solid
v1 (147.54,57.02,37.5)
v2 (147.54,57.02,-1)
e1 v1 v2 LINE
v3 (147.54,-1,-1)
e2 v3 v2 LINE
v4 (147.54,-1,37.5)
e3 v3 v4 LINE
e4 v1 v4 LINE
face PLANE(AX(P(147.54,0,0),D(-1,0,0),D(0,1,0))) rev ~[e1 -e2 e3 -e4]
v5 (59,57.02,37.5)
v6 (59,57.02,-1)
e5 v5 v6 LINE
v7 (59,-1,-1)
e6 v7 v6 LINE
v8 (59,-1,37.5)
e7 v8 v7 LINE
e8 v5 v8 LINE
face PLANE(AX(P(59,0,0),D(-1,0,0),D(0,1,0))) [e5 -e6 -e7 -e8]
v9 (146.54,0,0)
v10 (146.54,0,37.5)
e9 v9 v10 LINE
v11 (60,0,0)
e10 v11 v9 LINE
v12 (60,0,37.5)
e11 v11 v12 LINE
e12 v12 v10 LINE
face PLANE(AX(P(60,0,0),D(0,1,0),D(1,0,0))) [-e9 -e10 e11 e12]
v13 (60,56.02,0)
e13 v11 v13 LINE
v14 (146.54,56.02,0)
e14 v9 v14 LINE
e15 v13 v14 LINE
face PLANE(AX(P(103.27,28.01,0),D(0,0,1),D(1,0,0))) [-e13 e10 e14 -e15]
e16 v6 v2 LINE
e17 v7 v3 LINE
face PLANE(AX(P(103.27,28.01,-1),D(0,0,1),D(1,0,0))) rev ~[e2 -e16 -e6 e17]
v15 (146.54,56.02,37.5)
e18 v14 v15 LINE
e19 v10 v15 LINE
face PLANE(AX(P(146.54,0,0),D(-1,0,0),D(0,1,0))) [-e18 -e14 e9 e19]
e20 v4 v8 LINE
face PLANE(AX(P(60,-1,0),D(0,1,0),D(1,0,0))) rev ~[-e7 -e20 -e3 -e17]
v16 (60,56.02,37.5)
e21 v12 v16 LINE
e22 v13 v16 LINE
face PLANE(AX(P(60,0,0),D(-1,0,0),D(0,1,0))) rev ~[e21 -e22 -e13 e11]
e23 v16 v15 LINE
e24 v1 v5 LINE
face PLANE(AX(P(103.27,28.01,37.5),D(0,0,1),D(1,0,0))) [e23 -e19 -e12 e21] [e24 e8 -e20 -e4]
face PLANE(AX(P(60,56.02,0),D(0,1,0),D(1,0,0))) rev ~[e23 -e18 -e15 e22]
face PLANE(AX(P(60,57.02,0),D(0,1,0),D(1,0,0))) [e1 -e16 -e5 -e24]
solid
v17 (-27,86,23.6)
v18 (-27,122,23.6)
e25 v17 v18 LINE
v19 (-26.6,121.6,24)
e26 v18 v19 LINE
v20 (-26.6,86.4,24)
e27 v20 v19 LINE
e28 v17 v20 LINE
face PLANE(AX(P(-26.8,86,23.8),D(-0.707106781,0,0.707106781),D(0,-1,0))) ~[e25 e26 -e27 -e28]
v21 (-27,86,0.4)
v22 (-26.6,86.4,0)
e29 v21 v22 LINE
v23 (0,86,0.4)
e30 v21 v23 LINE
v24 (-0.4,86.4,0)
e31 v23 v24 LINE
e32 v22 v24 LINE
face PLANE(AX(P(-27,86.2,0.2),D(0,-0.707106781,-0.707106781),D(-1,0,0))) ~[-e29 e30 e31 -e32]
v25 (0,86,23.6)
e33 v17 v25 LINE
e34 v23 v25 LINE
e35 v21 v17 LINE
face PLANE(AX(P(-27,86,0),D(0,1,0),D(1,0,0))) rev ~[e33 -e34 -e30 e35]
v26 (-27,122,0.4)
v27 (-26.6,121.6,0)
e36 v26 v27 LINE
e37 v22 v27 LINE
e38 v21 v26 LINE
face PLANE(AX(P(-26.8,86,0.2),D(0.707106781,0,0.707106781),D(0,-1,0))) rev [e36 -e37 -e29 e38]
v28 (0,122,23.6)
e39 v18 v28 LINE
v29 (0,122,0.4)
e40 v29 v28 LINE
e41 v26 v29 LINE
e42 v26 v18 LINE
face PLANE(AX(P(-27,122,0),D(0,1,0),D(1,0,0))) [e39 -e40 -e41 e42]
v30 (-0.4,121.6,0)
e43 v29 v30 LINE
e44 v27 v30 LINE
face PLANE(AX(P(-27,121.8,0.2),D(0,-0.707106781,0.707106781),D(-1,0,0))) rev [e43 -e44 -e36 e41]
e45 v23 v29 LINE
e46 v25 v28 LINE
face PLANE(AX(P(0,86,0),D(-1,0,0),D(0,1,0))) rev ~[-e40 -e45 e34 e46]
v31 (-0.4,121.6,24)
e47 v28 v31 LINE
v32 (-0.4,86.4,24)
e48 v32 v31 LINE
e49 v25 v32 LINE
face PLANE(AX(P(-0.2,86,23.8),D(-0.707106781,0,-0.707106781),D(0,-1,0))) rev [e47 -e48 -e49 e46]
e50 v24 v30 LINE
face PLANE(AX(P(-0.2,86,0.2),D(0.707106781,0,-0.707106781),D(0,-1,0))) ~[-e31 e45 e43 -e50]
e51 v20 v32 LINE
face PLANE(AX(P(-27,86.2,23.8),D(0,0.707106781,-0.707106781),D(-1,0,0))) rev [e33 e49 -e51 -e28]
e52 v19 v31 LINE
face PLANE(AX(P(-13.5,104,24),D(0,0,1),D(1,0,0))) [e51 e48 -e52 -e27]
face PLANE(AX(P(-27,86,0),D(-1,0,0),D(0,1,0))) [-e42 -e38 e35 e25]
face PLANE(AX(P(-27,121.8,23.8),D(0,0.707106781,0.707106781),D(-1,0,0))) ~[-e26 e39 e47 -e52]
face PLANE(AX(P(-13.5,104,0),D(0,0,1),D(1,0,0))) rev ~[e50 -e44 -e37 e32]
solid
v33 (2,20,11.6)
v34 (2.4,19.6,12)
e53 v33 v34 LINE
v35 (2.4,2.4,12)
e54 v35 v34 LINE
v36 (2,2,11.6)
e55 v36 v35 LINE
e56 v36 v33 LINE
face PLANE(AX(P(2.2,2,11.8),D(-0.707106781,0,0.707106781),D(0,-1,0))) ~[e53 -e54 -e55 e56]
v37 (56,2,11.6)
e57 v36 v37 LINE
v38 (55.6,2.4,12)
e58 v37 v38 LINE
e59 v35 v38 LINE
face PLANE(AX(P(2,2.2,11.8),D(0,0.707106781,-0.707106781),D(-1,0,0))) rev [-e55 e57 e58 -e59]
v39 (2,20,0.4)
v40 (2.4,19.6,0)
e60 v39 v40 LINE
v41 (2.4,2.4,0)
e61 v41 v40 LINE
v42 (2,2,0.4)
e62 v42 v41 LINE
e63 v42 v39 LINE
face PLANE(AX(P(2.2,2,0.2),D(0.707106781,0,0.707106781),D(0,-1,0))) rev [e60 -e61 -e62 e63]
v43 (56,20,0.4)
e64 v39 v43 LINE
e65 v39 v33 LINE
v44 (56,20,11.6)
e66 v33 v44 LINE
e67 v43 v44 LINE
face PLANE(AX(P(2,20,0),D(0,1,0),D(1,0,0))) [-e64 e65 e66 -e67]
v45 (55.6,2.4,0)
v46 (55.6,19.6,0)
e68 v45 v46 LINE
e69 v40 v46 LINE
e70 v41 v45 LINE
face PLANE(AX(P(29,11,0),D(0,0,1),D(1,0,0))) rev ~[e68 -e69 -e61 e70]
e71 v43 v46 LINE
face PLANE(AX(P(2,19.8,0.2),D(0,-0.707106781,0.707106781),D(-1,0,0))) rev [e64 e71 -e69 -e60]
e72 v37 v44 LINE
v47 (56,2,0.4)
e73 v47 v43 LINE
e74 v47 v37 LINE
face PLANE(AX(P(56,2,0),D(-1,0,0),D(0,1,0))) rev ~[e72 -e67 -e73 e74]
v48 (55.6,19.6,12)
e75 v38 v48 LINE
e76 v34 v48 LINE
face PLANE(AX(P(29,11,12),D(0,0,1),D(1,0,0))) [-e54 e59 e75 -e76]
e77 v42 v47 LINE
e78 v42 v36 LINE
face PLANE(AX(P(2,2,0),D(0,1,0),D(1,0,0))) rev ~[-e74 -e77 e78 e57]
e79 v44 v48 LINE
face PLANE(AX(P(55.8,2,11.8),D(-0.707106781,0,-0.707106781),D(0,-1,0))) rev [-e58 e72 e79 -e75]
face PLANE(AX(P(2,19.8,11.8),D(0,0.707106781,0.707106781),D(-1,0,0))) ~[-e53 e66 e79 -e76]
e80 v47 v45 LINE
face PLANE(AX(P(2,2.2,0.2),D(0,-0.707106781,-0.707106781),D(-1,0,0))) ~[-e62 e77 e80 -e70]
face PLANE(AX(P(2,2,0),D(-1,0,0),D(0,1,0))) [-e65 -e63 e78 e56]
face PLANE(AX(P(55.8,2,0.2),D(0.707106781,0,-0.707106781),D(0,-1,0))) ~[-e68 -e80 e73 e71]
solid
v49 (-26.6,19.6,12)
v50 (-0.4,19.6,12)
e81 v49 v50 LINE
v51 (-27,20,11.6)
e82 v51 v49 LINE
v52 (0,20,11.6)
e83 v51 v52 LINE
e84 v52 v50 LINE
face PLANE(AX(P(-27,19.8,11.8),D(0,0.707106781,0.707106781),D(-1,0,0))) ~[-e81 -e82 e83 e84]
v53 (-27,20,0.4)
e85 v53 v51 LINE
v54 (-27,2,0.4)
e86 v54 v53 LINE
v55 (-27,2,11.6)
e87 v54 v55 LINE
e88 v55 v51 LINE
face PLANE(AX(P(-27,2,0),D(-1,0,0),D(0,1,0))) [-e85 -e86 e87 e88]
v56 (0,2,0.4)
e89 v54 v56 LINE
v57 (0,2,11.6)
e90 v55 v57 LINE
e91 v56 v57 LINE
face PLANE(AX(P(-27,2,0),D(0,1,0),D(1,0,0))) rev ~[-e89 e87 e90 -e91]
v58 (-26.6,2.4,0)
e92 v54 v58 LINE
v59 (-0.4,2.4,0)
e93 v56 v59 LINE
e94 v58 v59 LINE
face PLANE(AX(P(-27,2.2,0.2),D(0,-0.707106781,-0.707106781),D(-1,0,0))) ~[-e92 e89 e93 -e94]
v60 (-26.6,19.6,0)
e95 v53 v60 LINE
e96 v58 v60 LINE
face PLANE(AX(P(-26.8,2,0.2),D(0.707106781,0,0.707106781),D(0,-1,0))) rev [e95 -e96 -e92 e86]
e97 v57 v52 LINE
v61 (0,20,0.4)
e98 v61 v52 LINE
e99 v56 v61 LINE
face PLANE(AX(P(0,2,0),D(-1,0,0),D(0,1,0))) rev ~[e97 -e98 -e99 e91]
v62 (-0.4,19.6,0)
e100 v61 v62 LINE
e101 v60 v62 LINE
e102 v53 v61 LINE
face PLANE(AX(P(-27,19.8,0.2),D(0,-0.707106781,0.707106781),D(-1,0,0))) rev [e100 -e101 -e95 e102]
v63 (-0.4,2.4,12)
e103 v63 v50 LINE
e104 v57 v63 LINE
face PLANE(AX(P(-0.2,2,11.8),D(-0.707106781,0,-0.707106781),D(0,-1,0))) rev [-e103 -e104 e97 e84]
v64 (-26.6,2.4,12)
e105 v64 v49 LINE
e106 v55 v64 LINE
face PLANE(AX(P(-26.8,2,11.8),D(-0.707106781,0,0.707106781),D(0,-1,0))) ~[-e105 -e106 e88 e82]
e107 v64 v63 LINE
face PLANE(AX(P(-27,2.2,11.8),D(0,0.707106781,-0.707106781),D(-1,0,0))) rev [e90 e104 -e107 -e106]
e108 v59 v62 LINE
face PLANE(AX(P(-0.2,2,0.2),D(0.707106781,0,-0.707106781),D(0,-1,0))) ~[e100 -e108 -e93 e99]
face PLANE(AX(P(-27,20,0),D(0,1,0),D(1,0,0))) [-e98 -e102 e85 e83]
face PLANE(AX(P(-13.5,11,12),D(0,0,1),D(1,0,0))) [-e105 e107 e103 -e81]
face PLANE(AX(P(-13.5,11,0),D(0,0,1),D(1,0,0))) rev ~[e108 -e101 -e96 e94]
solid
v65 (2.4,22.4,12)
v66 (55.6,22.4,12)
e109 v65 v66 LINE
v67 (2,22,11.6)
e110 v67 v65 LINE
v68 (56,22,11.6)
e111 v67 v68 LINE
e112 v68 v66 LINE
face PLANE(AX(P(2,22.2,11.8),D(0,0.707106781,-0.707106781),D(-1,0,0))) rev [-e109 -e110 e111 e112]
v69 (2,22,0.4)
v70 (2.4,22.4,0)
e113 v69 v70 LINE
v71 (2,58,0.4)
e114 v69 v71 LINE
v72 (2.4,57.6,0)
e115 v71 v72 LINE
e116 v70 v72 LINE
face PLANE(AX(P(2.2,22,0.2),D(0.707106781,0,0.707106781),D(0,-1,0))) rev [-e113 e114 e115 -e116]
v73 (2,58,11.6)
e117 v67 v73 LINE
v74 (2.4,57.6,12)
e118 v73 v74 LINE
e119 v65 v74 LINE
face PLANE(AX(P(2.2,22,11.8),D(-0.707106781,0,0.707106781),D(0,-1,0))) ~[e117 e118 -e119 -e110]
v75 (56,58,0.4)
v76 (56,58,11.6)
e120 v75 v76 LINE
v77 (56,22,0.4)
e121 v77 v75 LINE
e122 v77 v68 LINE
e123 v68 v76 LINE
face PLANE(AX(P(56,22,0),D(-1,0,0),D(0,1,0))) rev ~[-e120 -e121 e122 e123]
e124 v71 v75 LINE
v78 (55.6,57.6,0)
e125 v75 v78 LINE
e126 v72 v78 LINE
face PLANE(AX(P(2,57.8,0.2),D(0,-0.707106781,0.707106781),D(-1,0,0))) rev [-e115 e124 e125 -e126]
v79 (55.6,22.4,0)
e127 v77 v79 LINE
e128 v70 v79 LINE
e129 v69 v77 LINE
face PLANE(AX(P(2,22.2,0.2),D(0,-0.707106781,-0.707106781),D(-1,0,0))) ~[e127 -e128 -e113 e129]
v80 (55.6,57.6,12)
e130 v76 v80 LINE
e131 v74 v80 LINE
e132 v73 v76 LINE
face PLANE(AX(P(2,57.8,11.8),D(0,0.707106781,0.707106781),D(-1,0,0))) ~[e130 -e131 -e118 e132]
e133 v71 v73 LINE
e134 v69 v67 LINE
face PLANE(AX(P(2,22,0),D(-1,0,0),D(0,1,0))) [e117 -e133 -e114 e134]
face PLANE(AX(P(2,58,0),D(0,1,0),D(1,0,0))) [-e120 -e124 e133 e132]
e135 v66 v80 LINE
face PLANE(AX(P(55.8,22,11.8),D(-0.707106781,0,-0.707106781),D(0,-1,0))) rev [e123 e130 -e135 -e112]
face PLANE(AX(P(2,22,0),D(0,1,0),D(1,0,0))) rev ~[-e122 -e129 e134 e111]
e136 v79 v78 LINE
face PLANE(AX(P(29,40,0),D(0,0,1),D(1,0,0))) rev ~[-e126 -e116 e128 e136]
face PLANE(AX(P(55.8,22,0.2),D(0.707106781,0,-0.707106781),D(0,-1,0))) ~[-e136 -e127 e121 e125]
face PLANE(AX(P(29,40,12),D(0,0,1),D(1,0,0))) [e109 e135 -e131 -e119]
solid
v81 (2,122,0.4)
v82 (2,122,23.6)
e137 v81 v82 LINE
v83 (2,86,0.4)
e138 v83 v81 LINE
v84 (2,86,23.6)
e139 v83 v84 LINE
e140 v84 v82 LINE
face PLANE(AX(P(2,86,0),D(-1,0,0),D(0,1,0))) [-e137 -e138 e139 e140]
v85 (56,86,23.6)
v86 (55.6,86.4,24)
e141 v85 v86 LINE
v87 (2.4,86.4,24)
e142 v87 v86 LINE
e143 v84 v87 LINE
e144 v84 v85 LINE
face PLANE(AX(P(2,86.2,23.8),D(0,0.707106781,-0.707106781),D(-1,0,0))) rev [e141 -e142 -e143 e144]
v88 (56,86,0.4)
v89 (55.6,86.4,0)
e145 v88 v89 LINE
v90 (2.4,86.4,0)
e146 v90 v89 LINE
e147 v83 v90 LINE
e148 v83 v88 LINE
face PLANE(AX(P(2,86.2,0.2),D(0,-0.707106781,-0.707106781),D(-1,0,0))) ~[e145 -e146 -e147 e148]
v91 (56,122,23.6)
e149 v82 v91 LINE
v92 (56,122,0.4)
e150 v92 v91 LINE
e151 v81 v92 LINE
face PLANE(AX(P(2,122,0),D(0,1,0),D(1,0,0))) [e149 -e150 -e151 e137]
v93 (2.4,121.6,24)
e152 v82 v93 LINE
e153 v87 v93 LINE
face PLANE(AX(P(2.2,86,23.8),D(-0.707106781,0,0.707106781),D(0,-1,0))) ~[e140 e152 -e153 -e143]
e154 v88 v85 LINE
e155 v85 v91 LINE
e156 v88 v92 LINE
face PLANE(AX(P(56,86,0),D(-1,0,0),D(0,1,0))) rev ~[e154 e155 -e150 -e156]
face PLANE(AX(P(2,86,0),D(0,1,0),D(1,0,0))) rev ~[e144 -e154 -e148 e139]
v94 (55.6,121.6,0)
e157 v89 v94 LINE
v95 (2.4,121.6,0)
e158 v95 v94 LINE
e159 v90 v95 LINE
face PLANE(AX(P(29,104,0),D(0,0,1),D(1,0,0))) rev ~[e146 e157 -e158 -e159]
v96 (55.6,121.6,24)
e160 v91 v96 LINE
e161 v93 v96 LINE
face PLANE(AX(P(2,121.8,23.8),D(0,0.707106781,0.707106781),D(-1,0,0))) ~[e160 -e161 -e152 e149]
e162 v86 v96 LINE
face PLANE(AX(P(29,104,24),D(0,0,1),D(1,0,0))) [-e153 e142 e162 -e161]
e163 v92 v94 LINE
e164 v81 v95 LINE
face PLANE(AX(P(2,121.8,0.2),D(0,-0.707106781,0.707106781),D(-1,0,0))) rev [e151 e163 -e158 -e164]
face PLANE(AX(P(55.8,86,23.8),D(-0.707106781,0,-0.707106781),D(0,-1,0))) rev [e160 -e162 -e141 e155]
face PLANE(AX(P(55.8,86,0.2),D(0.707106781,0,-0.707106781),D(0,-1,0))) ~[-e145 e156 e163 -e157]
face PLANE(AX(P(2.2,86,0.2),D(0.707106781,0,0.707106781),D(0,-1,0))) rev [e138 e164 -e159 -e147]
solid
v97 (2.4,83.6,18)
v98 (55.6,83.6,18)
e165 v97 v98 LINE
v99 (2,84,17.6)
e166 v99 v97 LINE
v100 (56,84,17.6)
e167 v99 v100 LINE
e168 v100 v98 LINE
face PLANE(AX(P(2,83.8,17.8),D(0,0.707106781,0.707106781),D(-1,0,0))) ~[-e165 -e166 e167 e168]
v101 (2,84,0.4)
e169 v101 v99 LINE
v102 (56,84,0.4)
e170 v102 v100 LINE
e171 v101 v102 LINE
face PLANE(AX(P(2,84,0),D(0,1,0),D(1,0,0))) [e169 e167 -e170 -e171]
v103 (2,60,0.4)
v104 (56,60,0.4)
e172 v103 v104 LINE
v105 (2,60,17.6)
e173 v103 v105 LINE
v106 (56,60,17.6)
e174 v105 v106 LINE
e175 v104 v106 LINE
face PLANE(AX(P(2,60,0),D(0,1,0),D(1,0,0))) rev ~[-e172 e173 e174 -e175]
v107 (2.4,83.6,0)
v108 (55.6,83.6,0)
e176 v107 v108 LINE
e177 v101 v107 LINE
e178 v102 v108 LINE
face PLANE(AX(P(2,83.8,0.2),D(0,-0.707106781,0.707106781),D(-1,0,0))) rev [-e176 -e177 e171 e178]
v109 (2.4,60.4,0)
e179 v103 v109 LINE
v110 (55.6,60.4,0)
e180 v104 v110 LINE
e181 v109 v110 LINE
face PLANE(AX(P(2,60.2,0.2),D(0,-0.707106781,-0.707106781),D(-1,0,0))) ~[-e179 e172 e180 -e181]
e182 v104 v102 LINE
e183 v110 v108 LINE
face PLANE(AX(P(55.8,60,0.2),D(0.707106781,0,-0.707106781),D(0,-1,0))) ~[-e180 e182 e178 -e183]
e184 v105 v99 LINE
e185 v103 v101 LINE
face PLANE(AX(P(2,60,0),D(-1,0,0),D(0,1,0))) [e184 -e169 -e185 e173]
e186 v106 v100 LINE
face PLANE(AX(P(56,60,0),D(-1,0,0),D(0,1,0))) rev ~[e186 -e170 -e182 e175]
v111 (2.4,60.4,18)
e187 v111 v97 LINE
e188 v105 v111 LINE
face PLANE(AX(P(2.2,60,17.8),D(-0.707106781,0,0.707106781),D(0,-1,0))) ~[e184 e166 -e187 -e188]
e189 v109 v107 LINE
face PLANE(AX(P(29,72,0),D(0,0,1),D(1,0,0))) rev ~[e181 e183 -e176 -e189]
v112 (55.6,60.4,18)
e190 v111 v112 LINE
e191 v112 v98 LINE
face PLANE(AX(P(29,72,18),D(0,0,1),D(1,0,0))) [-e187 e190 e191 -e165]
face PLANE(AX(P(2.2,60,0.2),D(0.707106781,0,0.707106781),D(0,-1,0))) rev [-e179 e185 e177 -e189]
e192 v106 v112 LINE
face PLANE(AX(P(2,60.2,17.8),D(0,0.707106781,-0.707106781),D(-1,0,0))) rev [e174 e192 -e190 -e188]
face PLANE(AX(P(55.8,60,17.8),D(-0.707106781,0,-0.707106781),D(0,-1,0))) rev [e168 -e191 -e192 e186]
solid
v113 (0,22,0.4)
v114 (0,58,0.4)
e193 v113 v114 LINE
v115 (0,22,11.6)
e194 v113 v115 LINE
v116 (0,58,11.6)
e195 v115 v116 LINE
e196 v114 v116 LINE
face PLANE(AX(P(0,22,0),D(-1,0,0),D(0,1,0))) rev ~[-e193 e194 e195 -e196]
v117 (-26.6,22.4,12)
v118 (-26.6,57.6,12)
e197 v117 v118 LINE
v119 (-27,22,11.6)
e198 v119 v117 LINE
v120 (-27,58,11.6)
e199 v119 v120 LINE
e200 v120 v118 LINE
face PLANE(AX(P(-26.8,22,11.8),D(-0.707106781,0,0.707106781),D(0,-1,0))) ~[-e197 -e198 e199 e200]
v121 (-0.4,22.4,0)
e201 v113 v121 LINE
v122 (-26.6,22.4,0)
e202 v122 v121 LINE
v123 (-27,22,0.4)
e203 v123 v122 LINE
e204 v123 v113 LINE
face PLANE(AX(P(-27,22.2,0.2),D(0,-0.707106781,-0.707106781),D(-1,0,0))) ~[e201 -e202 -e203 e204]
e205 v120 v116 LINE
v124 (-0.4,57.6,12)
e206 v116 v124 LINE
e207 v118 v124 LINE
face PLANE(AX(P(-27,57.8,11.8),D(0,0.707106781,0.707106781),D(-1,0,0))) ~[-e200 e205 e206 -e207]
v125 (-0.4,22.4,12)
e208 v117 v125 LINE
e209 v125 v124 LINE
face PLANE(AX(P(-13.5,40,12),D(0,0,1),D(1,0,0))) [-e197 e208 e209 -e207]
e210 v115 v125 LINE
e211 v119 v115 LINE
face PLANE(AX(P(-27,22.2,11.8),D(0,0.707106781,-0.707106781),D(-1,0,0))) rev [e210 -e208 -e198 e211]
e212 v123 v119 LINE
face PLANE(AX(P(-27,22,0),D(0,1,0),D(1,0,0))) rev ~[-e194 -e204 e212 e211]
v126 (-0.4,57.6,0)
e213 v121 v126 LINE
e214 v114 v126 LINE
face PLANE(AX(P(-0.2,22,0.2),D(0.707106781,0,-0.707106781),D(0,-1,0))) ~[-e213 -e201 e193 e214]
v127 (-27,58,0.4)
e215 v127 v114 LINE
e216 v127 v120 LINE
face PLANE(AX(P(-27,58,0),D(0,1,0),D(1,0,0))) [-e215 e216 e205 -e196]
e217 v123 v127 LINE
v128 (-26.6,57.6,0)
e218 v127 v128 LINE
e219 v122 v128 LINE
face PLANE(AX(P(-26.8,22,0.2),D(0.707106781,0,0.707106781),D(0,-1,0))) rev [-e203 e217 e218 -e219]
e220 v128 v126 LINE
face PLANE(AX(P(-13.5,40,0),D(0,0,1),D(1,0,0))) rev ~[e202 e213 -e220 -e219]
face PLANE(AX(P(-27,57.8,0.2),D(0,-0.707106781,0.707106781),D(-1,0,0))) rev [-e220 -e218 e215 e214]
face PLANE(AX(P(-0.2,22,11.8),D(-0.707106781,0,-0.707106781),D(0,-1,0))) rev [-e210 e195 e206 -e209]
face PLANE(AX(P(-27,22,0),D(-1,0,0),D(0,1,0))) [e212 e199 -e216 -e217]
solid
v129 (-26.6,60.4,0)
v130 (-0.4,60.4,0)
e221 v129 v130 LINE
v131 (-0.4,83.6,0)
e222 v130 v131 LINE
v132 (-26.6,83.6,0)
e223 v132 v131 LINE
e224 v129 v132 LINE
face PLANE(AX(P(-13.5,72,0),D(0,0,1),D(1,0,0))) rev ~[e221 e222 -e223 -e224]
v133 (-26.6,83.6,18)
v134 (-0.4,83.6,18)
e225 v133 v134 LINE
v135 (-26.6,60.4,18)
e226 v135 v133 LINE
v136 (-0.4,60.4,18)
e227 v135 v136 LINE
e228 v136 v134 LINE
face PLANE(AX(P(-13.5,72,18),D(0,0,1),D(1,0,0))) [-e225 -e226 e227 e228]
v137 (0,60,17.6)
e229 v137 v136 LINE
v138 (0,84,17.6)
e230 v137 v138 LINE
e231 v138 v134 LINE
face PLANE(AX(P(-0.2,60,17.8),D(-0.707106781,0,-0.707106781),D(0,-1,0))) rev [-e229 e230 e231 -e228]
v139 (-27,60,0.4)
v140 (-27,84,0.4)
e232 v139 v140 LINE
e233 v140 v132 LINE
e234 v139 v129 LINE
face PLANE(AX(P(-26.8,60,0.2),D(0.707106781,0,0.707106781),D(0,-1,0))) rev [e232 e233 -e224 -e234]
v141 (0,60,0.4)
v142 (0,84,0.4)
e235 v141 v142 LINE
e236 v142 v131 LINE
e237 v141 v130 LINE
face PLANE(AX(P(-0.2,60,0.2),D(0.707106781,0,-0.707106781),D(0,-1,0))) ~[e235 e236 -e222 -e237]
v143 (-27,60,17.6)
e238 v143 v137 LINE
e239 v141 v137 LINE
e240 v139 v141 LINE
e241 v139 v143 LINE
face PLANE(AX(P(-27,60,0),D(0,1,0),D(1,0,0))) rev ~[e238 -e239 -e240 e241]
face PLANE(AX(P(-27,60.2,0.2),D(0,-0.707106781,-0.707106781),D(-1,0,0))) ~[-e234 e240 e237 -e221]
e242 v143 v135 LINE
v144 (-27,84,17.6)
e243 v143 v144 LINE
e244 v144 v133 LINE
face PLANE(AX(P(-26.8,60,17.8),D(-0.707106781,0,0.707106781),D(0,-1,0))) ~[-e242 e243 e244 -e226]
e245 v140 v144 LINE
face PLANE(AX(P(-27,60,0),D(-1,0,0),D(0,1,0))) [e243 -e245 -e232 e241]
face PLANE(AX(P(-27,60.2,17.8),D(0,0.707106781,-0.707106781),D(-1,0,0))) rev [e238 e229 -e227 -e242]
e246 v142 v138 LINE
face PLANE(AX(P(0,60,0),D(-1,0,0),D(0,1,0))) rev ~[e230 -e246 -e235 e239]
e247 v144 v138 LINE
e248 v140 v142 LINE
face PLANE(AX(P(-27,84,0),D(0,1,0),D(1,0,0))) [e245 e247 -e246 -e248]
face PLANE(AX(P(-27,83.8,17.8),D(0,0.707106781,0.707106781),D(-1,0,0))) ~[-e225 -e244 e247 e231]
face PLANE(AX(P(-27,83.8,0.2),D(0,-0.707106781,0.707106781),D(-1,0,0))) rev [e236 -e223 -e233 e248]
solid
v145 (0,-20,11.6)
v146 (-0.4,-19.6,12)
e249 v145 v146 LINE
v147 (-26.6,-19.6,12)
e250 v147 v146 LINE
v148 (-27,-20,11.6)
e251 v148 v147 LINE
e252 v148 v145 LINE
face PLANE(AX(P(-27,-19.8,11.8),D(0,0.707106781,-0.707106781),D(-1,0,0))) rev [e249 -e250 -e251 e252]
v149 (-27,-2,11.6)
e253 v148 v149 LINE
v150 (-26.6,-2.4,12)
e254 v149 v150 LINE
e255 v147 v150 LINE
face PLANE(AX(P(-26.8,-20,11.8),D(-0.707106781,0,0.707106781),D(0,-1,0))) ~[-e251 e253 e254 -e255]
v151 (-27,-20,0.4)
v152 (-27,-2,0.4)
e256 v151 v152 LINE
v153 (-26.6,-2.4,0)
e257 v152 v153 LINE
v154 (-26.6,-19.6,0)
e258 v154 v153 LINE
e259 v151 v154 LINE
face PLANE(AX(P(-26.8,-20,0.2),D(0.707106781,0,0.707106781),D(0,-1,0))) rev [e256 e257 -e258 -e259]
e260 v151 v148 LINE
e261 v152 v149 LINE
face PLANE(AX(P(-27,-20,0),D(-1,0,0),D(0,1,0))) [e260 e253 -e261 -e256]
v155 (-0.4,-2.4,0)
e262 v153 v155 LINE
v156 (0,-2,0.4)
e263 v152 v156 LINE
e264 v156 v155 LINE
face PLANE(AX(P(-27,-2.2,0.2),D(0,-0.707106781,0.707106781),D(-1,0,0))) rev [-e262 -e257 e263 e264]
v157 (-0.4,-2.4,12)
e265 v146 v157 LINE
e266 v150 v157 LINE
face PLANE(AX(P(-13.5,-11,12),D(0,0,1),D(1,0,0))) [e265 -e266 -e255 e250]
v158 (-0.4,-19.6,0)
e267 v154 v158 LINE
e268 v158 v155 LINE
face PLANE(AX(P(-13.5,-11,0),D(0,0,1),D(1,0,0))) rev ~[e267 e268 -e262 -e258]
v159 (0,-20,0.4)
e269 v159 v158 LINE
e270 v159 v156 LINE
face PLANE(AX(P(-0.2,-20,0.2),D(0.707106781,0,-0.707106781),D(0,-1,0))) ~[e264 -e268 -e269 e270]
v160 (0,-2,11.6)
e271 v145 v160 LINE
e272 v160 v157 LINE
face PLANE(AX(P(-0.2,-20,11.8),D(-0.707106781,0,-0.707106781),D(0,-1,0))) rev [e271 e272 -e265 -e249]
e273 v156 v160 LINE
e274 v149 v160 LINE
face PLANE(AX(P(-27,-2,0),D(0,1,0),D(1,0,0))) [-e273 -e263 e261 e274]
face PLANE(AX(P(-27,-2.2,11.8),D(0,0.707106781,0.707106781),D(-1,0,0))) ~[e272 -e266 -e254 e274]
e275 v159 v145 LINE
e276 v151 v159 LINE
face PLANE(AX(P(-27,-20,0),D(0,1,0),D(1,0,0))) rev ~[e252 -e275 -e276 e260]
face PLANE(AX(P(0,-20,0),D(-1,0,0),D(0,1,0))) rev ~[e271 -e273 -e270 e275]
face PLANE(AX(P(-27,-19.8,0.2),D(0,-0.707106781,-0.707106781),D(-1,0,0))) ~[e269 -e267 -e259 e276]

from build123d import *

# Parameters (mm, degrees)
F9_W       = 27
F9_H       = 18
F10_DEPTH  = 12
F9_H_2     = 36
F9_W_2     = 54
F9_H_3     = 24
F11_DEPTH  = 18
F12_DEPTH  = 24
F13_DEPTH  = 12
F14_SIZE   = 0.4
F14_2_SIZE = 0.4
F14_3_SIZE = 0.4
F14_4_SIZE = 0.4
F14_5_SIZE = 0.4
F14_6_SIZE = 0.4
F14_7_SIZE = 0.4
F14_8_SIZE = 0.4
F14_9_SIZE = 0.4
F9_W_3     = 86.54
F9_H_4     = 56.02
F15_DEPTH  = 37.5
F16_T      = 1


with BuildPart() as f10:
    # F9 (on Top) → F10 (new body)
    with BuildSketch(Plane.XY):
        with Locations((-13.5, 11)):
            Rectangle(F9_W, F9_H)
    extrude(amount=F10_DEPTH)

    # F14#7
    f14_7_edges = [f10.edges().sort_by_distance(p)[0] for p in [
        (-13.5, 20, 12),
        (-27, 11, 12),
        (-13.5, 2, 12),
        (0, 11, 12),
        (-13.5, 20, 0),
        (-27, 11, 0),
        (-13.5, 2, 0),
        (0, 11, 0),
    ]]
    chamfer(f14_7_edges, length=F14_7_SIZE)


with BuildPart() as f10b:
    # F9 (on Top) → F10, piece 2 (new body)
    with BuildSketch(Plane.XY):
        with Locations((-13.5, 40)):
            Rectangle(F9_W, F9_H_2)
    extrude(amount=F10_DEPTH)

    # F14#6
    f14_6_edges = [f10b.edges().sort_by_distance(p)[0] for p in [
        (-13.5, 58, 12),
        (-27, 40, 12),
        (-13.5, 22, 12),
        (0, 40, 12),
        (-13.5, 58, 0),
        (-27, 40, 0),
        (-13.5, 22, 0),
        (0, 40, 0),
    ]]
    chamfer(f14_6_edges, length=F14_6_SIZE)


with BuildPart() as f10c:
    # F9 (on Top) → F10, piece 3 (new body)
    with BuildSketch(Plane.XY):
        with Locations((29, 40)):
            Rectangle(F9_W_2, F9_H_2)
    extrude(amount=F10_DEPTH)

    # F14#5
    f14_5_edges = [f10c.edges().sort_by_distance(p)[0] for p in [
        (29, 58, 12),
        (2, 40, 12),
        (29, 22, 12),
        (56, 40, 12),
        (29, 58, 0),
        (2, 40, 0),
        (29, 22, 0),
        (56, 40, 0),
    ]]
    chamfer(f14_5_edges, length=F14_5_SIZE)


with BuildPart() as f10d:
    # F9 (on Top) → F10, piece 4 (new body)
    with BuildSketch(Plane.XY):
        with Locations((29, 11)):
            Rectangle(F9_W_2, F9_H)
    extrude(amount=F10_DEPTH)

    # F14#8
    f14_8_edges = [f10d.edges().sort_by_distance(p)[0] for p in [
        (29, 20, 12),
        (2, 11, 12),
        (29, 2, 12),
        (56, 11, 12),
        (29, 20, 0),
        (2, 11, 0),
        (29, 2, 0),
        (56, 11, 0),
    ]]
    chamfer(f14_8_edges, length=F14_8_SIZE)


with BuildPart() as f11:
    # F9 (on Top) → F11 (new body)
    with BuildSketch(Plane.XY):
        with Locations((-13.5, 72)):
            Rectangle(F9_W, F9_H_3)
    extrude(amount=F11_DEPTH)

    # F14#3
    f14_3_edges = [f11.edges().sort_by_distance(p)[0] for p in [
        (-13.5, 84, 18),
        (-27, 72, 18),
        (-13.5, 60, 18),
        (0, 72, 18),
        (-13.5, 84, 0),
        (-27, 72, 0),
        (-13.5, 60, 0),
        (0, 72, 0),
    ]]
    chamfer(f14_3_edges, length=F14_3_SIZE)


with BuildPart() as f11b:
    # F9 (on Top) → F11, piece 2 (new body)
    with BuildSketch(Plane.XY):
        with Locations((29, 72)):
            Rectangle(F9_W_2, F9_H_3)
    extrude(amount=F11_DEPTH)

    # F14#4
    f14_4_edges = [f11b.edges().sort_by_distance(p)[0] for p in [
        (29, 84, 18),
        (2, 72, 18),
        (29, 60, 18),
        (56, 72, 18),
        (29, 84, 0),
        (2, 72, 0),
        (29, 60, 0),
        (56, 72, 0),
    ]]
    chamfer(f14_4_edges, length=F14_4_SIZE)


with BuildPart() as f12:
    # F9 (on Top) → F12 (new body)
    with BuildSketch(Plane.XY):
        with Locations((-13.5, 104)):
            Rectangle(F9_W, F9_H_2)
    extrude(amount=F12_DEPTH)

    # F14
    f14_edges = [f12.edges().sort_by_distance(p)[0] for p in [
        (-13.5, 122, 24),
        (-27, 104, 24),
        (-13.5, 86, 24),
        (0, 104, 24),
        (-13.5, 122, 0),
        (-27, 104, 0),
        (-13.5, 86, 0),
        (0, 104, 0),
    ]]
    chamfer(f14_edges, length=F14_SIZE)


with BuildPart() as f12b:
    # F9 (on Top) → F12, piece 2 (new body)
    with BuildSketch(Plane.XY):
        with Locations((29, 104)):
            Rectangle(F9_W_2, F9_H_2)
    extrude(amount=F12_DEPTH)

    # F14#2
    f14_2_edges = [f12b.edges().sort_by_distance(p)[0] for p in [
        (29, 122, 24),
        (2, 104, 24),
        (29, 86, 24),
        (56, 104, 24),
        (29, 122, 0),
        (2, 104, 0),
        (29, 86, 0),
        (56, 104, 0),
    ]]
    chamfer(f14_2_edges, length=F14_2_SIZE)


with BuildPart() as f13:
    # F9 (on Top) → F13 (new body)
    with BuildSketch(Plane.XY):
        with Locations((-13.5, -11)):
            Rectangle(F9_W, F9_H)
    extrude(amount=F13_DEPTH)

    # F14#9
    f14_9_edges = [f13.edges().sort_by_distance(p)[0] for p in [
        (-13.5, -20, 12),
        (0, -11, 12),
        (-13.5, -2, 12),
        (-27, -11, 12),
        (-13.5, -20, 0),
        (0, -11, 0),
        (-13.5, -2, 0),
        (-27, -11, 0),
    ]]
    chamfer(f14_9_edges, length=F14_9_SIZE)


with BuildPart() as f15:
    # F9 (on Top) → F15 (new body)
    with BuildSketch(Plane.XY):
        with Locations((103.27, 28.01)):
            Rectangle(F9_W_3, F9_H_4)
    extrude(amount=F15_DEPTH)

    # F16
    f16_openings = [f15.faces().sort_by_distance(p)[0] for p in [
        (103.27, 28.01, 37.5),
    ]]
    offset(amount=F16_T, openings=f16_openings, kind=Kind.INTERSECTION)


solid = Compound([f10.part, f10b.part, f10c.part, f10d.part, f11.part, f11b.part, f12.part, f12b.part, f13.part, f15.part])
